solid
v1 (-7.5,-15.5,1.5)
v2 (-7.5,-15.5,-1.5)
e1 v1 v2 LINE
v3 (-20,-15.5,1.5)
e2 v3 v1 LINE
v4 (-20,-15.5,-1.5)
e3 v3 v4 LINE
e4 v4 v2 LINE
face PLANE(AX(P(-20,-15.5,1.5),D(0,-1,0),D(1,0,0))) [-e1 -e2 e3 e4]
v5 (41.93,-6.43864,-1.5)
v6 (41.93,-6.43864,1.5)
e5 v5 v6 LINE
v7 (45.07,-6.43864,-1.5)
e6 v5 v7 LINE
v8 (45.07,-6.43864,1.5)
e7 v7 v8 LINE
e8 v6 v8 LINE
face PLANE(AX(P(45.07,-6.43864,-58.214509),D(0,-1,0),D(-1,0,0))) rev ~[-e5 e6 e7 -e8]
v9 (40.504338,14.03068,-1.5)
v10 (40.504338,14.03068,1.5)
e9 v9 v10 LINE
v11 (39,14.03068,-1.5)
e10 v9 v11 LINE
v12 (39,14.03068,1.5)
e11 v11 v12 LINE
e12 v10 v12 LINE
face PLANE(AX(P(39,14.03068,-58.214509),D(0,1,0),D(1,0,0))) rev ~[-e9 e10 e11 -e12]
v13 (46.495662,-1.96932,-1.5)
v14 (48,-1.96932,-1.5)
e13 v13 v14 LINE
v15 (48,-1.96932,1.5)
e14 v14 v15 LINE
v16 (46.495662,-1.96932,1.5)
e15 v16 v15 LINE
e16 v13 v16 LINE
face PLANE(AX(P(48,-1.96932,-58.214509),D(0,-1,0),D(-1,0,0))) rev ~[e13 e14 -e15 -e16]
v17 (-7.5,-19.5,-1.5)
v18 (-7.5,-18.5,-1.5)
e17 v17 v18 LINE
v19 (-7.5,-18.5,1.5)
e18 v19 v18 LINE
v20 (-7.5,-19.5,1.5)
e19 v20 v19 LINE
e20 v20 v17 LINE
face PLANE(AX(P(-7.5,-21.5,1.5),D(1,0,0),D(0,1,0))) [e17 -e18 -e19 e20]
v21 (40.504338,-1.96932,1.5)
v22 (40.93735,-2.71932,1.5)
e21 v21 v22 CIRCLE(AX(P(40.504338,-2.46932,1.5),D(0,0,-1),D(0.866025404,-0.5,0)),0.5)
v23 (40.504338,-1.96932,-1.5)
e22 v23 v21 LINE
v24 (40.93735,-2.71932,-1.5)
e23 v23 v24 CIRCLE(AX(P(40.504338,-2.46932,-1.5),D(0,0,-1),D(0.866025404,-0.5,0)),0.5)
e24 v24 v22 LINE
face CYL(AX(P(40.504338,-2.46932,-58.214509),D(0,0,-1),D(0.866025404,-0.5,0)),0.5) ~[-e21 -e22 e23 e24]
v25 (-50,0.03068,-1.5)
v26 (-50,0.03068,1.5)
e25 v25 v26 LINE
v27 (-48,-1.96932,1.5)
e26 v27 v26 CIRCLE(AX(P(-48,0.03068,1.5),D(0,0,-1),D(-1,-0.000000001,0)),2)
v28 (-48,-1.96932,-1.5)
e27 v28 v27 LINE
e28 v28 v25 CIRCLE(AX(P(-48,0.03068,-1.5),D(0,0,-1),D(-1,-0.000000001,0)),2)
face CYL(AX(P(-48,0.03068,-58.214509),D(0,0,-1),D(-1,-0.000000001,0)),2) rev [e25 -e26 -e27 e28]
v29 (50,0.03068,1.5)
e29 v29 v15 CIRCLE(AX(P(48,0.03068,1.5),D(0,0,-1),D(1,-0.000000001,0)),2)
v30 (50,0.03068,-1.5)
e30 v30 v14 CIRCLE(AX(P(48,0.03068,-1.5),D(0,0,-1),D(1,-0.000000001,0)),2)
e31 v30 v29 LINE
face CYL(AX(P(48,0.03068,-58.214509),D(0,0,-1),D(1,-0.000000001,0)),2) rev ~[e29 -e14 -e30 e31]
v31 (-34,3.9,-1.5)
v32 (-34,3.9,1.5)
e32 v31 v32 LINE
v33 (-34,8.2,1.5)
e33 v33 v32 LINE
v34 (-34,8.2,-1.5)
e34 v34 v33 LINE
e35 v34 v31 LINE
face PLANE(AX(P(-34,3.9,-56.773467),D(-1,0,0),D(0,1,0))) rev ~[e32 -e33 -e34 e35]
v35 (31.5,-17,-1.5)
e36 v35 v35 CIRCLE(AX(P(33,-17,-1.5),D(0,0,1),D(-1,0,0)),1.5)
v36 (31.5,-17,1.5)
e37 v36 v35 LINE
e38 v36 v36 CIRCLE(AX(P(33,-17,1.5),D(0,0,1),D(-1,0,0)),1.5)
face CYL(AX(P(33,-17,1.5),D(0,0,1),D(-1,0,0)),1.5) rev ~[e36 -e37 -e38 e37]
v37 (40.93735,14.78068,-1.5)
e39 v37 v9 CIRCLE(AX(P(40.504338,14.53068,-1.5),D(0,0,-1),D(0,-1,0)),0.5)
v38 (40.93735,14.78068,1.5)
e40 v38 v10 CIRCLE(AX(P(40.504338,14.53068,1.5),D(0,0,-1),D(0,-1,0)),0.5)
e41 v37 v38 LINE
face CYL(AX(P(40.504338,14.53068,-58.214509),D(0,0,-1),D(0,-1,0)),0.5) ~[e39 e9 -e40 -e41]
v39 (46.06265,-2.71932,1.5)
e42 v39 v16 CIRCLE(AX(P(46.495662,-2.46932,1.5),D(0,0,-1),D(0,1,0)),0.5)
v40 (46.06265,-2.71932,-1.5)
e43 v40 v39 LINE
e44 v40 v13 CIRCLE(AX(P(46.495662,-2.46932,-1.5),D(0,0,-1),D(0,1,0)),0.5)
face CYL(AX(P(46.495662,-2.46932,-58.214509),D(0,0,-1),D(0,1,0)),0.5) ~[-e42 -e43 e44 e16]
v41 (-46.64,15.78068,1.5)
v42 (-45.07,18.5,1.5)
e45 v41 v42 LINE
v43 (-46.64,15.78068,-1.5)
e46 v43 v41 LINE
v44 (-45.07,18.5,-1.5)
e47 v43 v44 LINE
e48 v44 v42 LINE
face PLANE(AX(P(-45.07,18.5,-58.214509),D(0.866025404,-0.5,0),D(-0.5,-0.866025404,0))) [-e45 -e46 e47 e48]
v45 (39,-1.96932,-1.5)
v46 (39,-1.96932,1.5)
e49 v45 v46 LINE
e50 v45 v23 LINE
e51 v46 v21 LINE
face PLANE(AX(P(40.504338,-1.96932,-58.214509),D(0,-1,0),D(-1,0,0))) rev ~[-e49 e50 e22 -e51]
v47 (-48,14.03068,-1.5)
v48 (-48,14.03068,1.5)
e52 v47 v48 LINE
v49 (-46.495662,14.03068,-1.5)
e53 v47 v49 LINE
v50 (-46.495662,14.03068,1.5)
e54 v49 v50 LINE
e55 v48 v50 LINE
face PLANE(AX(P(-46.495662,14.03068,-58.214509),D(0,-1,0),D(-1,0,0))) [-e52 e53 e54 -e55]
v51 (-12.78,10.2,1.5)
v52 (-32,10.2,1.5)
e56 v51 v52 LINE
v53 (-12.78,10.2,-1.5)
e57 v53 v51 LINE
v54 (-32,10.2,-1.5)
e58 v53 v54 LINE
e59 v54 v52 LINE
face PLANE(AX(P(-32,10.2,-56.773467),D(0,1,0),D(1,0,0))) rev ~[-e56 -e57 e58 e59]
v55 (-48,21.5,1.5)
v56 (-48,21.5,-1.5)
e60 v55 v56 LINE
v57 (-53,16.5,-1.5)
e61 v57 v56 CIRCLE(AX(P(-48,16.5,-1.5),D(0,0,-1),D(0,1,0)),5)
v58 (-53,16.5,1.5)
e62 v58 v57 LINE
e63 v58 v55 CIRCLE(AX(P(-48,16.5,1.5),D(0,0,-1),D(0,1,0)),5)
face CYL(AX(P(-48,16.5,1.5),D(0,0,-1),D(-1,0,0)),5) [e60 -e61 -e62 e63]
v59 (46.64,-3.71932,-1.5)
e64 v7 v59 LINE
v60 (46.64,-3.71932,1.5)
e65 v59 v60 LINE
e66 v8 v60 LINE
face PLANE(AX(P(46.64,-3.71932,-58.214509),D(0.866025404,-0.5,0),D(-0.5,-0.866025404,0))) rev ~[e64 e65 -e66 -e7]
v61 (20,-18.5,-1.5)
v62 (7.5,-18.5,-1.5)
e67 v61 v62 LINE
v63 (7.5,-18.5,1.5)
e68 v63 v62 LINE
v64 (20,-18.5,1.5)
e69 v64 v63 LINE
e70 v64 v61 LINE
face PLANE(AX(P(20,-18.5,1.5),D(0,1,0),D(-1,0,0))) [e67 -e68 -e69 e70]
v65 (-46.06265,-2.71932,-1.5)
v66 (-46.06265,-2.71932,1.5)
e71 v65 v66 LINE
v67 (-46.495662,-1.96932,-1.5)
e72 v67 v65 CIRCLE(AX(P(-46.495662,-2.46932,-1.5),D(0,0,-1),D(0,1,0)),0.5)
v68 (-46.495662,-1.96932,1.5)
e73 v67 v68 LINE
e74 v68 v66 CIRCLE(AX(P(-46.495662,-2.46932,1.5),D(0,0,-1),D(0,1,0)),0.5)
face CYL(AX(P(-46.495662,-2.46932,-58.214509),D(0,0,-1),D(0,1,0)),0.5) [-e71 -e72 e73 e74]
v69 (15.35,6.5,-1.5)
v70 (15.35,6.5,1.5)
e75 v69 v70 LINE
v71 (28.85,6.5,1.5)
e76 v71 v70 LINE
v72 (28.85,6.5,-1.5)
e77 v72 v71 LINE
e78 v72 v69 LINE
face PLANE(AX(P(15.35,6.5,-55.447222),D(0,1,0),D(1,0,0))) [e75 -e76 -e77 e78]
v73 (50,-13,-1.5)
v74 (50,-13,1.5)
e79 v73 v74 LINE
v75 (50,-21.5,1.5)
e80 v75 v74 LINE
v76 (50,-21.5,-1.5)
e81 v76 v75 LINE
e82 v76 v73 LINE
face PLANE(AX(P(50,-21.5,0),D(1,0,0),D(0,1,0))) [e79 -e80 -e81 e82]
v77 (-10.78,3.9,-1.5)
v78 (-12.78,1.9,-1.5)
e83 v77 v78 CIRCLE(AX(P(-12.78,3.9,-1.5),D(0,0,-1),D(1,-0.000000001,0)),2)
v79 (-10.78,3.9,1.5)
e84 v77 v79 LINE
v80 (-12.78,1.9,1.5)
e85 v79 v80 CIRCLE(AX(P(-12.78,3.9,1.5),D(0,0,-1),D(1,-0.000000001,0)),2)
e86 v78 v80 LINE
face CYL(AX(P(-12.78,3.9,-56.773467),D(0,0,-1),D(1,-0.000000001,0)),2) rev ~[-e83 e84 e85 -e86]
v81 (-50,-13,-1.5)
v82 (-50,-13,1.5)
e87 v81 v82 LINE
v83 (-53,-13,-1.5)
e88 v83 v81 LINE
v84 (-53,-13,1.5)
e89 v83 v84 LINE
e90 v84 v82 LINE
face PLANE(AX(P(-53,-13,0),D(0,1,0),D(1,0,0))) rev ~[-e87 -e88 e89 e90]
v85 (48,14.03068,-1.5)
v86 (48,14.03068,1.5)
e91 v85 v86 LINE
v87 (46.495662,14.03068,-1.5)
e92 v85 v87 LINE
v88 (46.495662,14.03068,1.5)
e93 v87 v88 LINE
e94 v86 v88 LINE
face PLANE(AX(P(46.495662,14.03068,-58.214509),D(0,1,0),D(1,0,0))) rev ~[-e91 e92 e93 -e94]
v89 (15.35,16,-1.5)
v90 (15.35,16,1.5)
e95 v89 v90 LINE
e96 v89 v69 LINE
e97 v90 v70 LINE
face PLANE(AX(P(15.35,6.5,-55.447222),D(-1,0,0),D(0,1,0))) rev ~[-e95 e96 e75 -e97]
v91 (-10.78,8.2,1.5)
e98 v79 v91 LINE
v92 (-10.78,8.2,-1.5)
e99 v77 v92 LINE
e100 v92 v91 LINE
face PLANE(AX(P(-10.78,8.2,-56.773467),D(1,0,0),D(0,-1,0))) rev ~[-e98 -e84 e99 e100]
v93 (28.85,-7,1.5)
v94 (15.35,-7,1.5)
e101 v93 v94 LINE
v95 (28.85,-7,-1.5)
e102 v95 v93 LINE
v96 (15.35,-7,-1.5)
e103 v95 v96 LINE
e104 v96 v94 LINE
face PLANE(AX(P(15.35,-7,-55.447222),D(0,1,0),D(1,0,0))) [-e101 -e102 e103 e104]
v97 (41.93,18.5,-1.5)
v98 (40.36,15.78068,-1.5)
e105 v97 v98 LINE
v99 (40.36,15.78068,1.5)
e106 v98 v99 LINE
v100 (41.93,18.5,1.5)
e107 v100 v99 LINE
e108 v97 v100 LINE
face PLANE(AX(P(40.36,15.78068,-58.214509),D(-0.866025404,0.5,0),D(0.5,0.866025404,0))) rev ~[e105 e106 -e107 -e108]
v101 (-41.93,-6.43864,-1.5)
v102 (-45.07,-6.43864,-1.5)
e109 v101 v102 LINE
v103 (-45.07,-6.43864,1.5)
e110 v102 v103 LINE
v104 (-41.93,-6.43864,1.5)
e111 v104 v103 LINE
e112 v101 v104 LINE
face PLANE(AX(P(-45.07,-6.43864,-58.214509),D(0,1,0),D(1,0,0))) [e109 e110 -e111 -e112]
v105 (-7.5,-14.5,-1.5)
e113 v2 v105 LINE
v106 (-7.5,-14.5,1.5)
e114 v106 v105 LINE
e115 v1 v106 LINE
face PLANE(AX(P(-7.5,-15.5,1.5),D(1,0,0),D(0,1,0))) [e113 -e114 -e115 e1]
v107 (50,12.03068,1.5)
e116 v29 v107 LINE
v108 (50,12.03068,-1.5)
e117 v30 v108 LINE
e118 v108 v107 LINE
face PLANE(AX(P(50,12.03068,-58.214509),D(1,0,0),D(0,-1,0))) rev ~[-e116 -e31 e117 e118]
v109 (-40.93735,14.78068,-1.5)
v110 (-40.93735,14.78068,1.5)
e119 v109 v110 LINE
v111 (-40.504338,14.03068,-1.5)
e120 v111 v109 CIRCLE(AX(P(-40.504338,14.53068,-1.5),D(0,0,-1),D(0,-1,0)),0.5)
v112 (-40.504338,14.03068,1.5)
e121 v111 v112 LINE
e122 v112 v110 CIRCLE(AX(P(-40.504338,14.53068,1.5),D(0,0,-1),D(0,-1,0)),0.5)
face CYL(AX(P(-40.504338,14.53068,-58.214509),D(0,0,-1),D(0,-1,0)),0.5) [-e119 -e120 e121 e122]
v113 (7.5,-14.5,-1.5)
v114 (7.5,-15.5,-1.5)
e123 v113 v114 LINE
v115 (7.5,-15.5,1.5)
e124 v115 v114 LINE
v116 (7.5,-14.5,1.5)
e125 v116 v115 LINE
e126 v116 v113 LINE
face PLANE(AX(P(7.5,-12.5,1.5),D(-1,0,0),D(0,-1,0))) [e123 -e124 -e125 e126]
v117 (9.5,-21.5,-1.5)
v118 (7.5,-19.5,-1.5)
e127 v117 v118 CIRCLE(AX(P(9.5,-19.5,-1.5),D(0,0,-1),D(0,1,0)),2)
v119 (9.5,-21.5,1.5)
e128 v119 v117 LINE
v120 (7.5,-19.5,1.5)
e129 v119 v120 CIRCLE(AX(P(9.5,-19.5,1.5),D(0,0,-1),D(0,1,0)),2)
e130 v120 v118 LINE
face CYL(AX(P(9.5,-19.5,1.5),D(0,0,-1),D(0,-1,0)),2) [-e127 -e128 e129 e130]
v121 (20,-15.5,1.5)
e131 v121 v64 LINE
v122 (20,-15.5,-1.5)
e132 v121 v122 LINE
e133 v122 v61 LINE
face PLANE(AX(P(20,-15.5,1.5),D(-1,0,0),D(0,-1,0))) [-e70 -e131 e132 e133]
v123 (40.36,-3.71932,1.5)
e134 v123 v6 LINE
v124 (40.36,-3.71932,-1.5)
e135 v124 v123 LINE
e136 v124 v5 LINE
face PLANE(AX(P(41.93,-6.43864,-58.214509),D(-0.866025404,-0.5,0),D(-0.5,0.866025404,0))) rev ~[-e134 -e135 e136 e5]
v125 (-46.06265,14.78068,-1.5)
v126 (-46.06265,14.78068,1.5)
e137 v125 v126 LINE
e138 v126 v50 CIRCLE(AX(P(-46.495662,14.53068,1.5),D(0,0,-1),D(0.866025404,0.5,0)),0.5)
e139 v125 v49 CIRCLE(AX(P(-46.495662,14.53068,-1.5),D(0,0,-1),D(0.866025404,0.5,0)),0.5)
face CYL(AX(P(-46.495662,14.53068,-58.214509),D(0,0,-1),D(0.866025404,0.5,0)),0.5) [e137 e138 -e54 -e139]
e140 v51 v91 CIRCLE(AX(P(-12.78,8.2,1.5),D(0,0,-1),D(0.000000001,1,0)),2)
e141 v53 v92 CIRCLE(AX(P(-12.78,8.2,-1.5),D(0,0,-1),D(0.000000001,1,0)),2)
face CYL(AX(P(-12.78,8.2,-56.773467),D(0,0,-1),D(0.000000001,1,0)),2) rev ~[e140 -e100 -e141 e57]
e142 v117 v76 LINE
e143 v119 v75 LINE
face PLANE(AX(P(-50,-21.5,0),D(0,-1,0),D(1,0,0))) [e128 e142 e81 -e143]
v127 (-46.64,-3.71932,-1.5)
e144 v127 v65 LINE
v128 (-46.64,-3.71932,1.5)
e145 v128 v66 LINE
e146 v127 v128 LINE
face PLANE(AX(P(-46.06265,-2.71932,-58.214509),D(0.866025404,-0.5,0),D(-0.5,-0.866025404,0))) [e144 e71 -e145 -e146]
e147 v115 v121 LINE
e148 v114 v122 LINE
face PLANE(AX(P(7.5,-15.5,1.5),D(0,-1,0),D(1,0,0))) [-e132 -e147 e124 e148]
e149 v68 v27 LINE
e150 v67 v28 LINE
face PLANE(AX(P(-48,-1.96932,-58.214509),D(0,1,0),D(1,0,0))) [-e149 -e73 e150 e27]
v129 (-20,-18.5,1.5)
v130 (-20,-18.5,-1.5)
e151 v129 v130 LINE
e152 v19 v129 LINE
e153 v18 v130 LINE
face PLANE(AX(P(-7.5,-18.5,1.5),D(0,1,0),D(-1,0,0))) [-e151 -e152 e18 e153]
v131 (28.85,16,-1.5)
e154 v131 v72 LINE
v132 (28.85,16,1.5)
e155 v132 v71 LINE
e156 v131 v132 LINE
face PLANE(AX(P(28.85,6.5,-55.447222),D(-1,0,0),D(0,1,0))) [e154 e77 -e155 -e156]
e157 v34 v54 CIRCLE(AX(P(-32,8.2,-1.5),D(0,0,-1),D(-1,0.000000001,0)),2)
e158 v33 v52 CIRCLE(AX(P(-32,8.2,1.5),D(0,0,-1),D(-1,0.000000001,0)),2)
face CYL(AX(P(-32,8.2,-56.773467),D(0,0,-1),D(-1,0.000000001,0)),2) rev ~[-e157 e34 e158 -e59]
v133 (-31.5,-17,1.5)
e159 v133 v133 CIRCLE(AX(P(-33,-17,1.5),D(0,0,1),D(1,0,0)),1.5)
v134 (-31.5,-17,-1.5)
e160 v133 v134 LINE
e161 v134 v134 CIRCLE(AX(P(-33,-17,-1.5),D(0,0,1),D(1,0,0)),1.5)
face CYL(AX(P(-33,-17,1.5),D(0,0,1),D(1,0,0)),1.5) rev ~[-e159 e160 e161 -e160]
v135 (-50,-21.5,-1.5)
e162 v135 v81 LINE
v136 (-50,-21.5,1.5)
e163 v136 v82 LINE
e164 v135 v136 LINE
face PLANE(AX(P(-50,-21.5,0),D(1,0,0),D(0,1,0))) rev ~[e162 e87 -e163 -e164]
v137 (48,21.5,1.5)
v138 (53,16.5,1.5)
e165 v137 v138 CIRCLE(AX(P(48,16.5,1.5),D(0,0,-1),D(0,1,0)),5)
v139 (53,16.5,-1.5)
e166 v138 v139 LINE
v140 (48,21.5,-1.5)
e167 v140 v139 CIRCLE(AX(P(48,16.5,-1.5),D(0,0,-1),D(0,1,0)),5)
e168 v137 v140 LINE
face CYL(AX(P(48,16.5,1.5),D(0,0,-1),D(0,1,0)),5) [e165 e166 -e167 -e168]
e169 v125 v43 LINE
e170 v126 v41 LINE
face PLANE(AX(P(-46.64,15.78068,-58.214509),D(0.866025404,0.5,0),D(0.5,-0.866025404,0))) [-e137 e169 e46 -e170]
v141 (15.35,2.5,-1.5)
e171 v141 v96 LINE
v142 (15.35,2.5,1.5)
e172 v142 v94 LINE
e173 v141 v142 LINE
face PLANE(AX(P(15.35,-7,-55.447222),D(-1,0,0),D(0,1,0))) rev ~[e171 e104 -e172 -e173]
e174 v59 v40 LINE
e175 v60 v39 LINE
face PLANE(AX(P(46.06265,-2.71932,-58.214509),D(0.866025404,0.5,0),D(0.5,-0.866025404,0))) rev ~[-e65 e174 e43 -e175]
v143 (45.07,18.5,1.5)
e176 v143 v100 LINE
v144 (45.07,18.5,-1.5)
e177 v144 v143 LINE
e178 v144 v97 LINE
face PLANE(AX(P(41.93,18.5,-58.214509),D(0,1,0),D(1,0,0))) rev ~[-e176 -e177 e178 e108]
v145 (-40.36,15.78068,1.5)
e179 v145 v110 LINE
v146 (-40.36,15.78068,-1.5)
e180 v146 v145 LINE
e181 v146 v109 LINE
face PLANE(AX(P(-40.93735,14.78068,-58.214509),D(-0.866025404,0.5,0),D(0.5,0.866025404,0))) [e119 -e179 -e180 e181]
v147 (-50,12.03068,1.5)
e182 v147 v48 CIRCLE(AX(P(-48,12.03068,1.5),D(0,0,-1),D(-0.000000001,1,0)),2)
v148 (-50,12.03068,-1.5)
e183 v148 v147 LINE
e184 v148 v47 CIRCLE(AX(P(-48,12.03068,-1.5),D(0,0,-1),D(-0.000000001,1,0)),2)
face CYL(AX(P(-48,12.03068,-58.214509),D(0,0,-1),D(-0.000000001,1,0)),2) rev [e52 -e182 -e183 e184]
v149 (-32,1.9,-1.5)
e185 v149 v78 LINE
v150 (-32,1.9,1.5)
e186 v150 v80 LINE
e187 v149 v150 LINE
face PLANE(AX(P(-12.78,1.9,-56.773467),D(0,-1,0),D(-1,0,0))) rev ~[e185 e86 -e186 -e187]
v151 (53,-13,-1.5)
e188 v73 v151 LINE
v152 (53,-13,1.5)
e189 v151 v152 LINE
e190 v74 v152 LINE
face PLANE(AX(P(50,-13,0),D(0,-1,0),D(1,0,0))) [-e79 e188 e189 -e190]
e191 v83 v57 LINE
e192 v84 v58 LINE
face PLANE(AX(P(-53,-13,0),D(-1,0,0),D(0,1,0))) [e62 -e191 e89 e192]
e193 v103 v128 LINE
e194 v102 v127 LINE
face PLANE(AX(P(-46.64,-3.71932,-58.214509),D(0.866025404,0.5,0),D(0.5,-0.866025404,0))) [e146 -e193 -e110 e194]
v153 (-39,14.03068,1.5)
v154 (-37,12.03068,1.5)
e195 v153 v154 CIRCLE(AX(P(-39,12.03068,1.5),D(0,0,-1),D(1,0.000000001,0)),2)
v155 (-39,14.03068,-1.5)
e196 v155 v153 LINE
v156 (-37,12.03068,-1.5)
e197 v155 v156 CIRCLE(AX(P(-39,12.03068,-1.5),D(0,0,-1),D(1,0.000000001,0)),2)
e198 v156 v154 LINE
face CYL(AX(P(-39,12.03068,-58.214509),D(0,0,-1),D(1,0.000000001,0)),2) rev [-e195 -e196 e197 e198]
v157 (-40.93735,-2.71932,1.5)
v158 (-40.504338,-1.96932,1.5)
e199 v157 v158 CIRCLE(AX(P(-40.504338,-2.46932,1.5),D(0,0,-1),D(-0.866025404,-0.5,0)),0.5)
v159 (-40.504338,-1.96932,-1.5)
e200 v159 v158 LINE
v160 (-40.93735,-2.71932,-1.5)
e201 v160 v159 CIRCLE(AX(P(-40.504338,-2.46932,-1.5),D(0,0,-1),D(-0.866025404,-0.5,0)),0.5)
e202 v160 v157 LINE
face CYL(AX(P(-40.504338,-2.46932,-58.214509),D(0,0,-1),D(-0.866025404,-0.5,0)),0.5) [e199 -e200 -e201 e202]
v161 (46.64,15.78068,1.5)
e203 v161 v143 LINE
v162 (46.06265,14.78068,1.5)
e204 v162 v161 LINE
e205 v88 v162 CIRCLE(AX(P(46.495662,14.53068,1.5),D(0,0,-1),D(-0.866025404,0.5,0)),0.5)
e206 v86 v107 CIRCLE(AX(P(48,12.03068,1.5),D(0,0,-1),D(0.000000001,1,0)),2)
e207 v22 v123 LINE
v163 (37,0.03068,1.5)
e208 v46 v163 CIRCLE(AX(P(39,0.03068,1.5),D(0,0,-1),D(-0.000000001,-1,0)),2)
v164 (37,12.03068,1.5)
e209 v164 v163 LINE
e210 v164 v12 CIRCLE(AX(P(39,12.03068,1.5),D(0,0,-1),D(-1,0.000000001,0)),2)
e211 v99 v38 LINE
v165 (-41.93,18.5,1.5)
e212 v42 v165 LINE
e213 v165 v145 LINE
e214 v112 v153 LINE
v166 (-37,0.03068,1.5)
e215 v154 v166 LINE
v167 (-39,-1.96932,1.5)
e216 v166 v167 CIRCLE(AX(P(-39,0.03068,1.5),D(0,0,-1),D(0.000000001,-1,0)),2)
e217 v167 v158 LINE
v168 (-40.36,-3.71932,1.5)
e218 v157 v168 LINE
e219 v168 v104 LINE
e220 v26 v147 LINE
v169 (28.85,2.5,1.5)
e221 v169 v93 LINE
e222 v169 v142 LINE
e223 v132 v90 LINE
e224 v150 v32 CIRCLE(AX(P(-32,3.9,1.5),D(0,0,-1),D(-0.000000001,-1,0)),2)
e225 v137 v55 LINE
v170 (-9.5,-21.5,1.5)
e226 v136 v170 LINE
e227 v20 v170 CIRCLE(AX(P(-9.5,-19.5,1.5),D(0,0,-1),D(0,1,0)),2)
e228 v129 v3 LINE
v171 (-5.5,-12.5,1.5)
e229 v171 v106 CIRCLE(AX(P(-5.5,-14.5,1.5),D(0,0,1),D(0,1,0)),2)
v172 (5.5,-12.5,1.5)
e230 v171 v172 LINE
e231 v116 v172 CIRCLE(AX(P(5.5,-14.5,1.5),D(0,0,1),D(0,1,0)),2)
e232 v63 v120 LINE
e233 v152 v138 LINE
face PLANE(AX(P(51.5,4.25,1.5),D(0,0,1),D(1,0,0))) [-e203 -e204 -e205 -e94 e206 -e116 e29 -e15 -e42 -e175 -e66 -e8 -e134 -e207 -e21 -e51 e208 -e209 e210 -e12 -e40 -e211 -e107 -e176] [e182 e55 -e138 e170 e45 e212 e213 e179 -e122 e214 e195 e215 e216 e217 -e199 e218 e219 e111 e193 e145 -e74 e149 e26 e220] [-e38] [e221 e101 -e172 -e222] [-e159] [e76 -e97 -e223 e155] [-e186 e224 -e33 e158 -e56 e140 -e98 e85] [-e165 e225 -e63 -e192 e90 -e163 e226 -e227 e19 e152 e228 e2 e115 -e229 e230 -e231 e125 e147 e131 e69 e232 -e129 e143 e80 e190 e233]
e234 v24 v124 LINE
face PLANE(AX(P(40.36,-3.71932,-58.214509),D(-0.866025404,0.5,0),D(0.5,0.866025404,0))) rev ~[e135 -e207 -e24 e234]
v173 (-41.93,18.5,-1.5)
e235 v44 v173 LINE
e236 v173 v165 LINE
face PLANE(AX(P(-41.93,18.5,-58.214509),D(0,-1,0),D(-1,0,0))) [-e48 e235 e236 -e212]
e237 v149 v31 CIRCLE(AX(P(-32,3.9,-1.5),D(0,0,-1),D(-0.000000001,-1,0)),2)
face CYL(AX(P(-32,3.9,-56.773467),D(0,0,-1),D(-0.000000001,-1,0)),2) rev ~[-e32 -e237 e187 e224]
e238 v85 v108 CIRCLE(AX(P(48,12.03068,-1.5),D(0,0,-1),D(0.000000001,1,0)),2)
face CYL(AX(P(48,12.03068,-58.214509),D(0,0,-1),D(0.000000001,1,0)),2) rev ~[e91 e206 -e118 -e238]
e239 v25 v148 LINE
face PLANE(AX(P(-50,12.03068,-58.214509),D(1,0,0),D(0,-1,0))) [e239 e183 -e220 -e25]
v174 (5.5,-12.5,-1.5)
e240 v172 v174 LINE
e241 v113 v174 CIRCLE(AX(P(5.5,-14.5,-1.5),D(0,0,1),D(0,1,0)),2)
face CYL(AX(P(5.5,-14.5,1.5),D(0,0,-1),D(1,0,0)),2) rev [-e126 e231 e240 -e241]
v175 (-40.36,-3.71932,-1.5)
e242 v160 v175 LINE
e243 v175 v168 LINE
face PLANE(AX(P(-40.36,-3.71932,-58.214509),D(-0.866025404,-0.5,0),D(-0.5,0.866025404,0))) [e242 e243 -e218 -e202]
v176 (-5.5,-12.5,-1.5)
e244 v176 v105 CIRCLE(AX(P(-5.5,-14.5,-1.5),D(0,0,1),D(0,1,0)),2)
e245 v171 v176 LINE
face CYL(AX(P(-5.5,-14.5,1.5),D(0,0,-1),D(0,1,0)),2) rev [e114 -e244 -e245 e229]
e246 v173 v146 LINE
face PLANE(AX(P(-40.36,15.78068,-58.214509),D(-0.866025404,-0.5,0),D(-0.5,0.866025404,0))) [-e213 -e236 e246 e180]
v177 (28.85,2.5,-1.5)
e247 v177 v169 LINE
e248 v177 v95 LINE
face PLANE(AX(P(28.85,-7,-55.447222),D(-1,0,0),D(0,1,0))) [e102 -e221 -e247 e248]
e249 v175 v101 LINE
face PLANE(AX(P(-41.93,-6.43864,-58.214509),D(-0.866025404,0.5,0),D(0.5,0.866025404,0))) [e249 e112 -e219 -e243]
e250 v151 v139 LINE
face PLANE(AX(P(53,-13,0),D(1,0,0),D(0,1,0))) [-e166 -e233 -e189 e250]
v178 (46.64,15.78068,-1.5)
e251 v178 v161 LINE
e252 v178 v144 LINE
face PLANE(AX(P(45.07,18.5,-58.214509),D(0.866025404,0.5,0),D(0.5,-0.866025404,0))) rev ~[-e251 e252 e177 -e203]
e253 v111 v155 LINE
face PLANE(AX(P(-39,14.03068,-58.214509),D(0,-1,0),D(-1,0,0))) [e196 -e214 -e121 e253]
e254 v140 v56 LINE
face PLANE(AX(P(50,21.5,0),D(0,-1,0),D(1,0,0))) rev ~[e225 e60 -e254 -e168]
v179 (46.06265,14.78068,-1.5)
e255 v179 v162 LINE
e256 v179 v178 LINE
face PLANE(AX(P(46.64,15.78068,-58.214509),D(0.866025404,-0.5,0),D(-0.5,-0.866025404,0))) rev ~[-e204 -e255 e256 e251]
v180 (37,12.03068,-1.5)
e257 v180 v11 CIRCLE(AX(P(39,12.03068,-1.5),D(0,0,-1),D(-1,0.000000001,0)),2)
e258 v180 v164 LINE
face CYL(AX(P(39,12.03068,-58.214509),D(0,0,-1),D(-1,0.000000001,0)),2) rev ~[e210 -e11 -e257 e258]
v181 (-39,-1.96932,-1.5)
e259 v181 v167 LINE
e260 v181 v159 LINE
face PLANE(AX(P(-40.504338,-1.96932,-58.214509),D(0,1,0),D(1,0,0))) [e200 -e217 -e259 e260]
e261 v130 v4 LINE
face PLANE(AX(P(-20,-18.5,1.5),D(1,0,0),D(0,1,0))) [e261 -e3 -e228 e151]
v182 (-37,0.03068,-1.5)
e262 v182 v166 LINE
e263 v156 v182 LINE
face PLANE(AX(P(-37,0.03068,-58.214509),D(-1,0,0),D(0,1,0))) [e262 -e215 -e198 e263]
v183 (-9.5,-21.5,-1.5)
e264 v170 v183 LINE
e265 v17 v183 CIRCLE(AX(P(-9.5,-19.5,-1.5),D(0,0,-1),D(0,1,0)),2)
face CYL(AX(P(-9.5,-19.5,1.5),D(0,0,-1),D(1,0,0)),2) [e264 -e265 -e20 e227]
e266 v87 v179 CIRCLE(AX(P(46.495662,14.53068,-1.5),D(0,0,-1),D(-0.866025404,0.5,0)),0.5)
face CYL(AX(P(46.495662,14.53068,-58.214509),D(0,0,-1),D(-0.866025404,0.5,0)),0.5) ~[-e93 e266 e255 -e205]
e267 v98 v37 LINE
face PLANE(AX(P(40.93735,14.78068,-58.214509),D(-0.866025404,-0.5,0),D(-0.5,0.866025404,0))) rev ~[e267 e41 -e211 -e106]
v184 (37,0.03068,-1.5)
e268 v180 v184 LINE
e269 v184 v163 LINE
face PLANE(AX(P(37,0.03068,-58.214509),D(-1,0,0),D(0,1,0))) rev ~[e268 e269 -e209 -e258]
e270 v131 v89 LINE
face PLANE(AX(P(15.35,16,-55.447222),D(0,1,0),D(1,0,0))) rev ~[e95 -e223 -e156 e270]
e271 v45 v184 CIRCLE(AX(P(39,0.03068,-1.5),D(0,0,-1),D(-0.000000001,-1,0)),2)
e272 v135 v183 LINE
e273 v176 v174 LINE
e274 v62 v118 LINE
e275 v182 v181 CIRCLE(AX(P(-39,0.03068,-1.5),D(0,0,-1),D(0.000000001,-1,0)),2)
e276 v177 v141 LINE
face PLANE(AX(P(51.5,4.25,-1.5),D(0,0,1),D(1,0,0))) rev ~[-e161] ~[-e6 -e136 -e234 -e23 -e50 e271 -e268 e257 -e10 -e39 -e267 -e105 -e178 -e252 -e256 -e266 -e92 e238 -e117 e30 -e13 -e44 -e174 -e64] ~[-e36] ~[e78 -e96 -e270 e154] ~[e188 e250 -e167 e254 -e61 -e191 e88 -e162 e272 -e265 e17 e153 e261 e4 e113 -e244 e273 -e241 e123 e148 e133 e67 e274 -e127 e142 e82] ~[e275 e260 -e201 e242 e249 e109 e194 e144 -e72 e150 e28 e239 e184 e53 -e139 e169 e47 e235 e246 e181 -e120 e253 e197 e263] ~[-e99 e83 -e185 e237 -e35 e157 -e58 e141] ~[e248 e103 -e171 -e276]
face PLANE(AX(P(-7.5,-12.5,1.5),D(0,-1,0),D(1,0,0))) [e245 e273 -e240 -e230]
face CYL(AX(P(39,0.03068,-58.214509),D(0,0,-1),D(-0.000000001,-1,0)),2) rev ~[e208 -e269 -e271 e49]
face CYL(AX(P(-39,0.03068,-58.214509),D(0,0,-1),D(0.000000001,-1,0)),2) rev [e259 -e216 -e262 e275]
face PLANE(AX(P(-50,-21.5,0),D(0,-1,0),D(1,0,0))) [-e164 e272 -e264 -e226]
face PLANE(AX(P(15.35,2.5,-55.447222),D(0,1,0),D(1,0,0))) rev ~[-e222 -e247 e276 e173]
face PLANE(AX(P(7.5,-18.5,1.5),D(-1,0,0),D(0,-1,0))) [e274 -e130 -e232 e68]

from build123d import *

# Parameters (mm, degrees)
ESBO_O1_W                  = 100
ESBO_O1_H                  = 43
RESSALTO_EXTRUS_O1_DEPTH   = 1.5
ESBO_O2_R                  = 1.5
CORTE_EXTRUS_O1_DEPTH      = 55.50917354
CUT_EXTRUDE6_DEPTH         = 55.447222151
CUT_EXTRUDE6_DEPTH_BACK    = 55.447222151
SKETCH7_W                  = 13.5
SKETCH7_H                  = 9.5
SKETCH8_W                  = 3
SKETCH8_H                  = 34.5
BOSS_EXTRUDE1_DEPTH        = 1.5
FILLET3_R                  = 2
FILLET4_R                  = 5
CORTE_GY_VL53L0_DEPTH      = 58.214508649
CORTE_GY_VL53L0_DEPTH_BACK = 58.214508649
CUT_EXTRUDE7_DEPTH         = 58.273466806
CUT_EXTRUDE7_DEPTH_BACK    = 58.273466806


with BuildPart() as part:
    # Esboço1 → Ressalto-extrusão1 (new, symmetric)
    with BuildSketch(Plane.XY):
        Rectangle(ESBO_O1_W, ESBO_O1_H)
    extrude(amount=RESSALTO_EXTRUS_O1_DEPTH, both=True)

    # Esboço2 → Corte-extrusão1 (cut, through all)
    with BuildSketch(Plane.XY.offset(1.5)):
        with Locations((-33, -17)):
            Circle(ESBO_O2_R)
        with Locations(Location((33, -17, 0), (0, 0, 180))):
            Circle(ESBO_O2_R)
        Polygon((-20, -15.5), (-7.5, -15.5), (-7.5, -12.5), (7.5, -12.5), (7.5, -15.5), (20, -15.5), (20, -18.5), (7.5, -18.5), (7.5, -21.5), (-7.5, -21.5), (-7.5, -18.5), (-20, -18.5), align=None)
    extrude(amount=-CORTE_EXTRUS_O1_DEPTH, mode=Mode.SUBTRACT)

    # Sketch7 → Cut-Extrude6 (cut, two sides: drawn at the far end of the back side and taken through both)
    with BuildSketch(Plane.XY.offset(-CUT_EXTRUDE6_DEPTH_BACK)):
        with Locations((22.1, -2.25)):
            Rectangle(SKETCH7_W, SKETCH7_H)
        with Locations((22.1, 11.25)):
            Rectangle(SKETCH7_W, SKETCH7_H)
    extrude(amount=CUT_EXTRUDE6_DEPTH + CUT_EXTRUDE6_DEPTH_BACK, mode=Mode.SUBTRACT)

    # Sketch8 → Boss-Extrude1 (add, symmetric)
    with BuildSketch(Plane.XY):
        with Locations((-51.5, 4.25)):
            Rectangle(SKETCH8_W, SKETCH8_H)
        with Locations((51.5, 4.25)):
            Rectangle(SKETCH8_W, SKETCH8_H)
    extrude(amount=BOSS_EXTRUDE1_DEPTH, both=True)

    # Fillet3
    fillet3_edges = [part.edges().sort_by_distance(p)[0] for p in [
        (-7.5, -21.5, 0),
        (-7.5, -12.5, 0),
        (7.5, -12.5, 0),
        (7.5, -21.5, 0),
    ]]
    fillet(fillet3_edges, radius=FILLET3_R)

    # Fillet4
    fillet4_edges = [part.edges().sort_by_distance(p)[0] for p in [
        (53, 21.5, 0),
        (-53, 21.5, 0),
    ]]
    fillet(fillet4_edges, radius=FILLET4_R)

    # Sketch6 → Corte Gy-VL53L0 (cut, two sides: drawn at the far end of the back side and taken through both)
    with BuildSketch(Plane.XY.offset(-CORTE_GY_VL53L0_DEPTH_BACK)):
        with BuildLine():
            Line((-40.5, 14.030680232), (-40.504337567, 14.030680232))
            ThreePointArc((-40.504337567, 14.030680232), (-40.937350269, 14.280680232), (-40.937350269, 14.780680232))
            Line((-40.937350269, 14.780680232), (-40.36, 15.780680232))
            Line((-40.36, 15.780680232), (-41.93, 18.5))
            Line((-41.93, 18.5), (-45.07, 18.5))
            Line((-45.07, 18.5), (-46.64, 15.780680232))
            Line((-46.64, 15.780680232), (-46.062649731, 14.780680232))
            ThreePointArc((-46.062649731, 14.780680232), (-46.062649731, 14.280680232), (-46.495662433, 14.030680232))
            Line((-46.495662433, 14.030680232), (-48, 14.030680232))
            ThreePointArc((-48, 14.030680232), (-49.414213562, 13.444893794), (-50, 12.030680232))
            Line((-50, 12.030680232), (-50, 0.030680232))
            ThreePointArc((-50, 0.030680232), (-49.414213562, -1.38353333), (-48, -1.969319768))
            Line((-48, -1.969319768), (-46.495662433, -1.969319768))
            ThreePointArc((-46.495662433, -1.969319768), (-46.062649731, -2.219319768), (-46.062649731, -2.719319768))
            Line((-46.062649731, -2.719319768), (-46.64, -3.719319768))
            Line((-46.64, -3.719319768), (-45.07, -6.438639536))
            Line((-45.07, -6.438639536), (-41.93, -6.438639536))
            Line((-41.93, -6.438639536), (-40.36, -3.719319768))
            Line((-40.36, -3.719319768), (-40.937350269, -2.719319768))
            ThreePointArc((-40.937350269, -2.719319768), (-40.937350269, -2.219319768), (-40.504337567, -1.969319768))
            Line((-40.504337567, -1.969319768), (-39, -1.969319768))
            ThreePointArc((-39, -1.969319768), (-37.585786438, -1.38353333), (-37, 0.030680232))
            Line((-37, 0.030680232), (-37, 6.030680232))
            Line((-37, 6.030680232), (-37, 12.030680232))
            ThreePointArc((-37, 12.030680232), (-37.585786438, 13.444893794), (-39, 14.030680232))
            Line((-39, 14.030680232), (-40.5, 14.030680232))
        make_face()
        with BuildLine():
            Line((40.5, 14.030680232), (40.504337567, 14.030680232))
            ThreePointArc((40.504337567, 14.030680232), (40.937350269, 14.280680232), (40.937350269, 14.780680232))
            Line((40.937350269, 14.780680232), (40.36, 15.780680232))
            Line((40.36, 15.780680232), (41.93, 18.5))
            Line((41.93, 18.5), (45.07, 18.5))
            Line((45.07, 18.5), (46.64, 15.780680232))
            Line((46.64, 15.780680232), (46.062649731, 14.780680232))
            ThreePointArc((46.062649731, 14.780680232), (46.062649731, 14.280680232), (46.495662433, 14.030680232))
            Line((46.495662433, 14.030680232), (48, 14.030680232))
            ThreePointArc((48, 14.030680232), (49.414213562, 13.444893794), (50, 12.030680232))
            Line((50, 12.030680232), (50, 0.030680232))
            ThreePointArc((50, 0.030680232), (49.414213562, -1.38353333), (48, -1.969319768))
            Line((48, -1.969319768), (46.495662433, -1.969319768))
            ThreePointArc((46.495662433, -1.969319768), (46.062649731, -2.219319768), (46.062649731, -2.719319768))
            Line((46.062649731, -2.719319768), (46.64, -3.719319768))
            Line((46.64, -3.719319768), (45.07, -6.438639536))
            Line((45.07, -6.438639536), (41.93, -6.438639536))
            Line((41.93, -6.438639536), (40.36, -3.719319768))
            Line((40.36, -3.719319768), (40.937350269, -2.719319768))
            ThreePointArc((40.937350269, -2.719319768), (40.937350269, -2.219319768), (40.504337567, -1.969319768))
            Line((40.504337567, -1.969319768), (39, -1.969319768))
            ThreePointArc((39, -1.969319768), (37.585786438, -1.38353333), (37, 0.030680232))
            Line((37, 0.030680232), (37, 6.030680232))
            Line((37, 6.030680232), (37, 12.030680232))
            ThreePointArc((37, 12.030680232), (37.585786438, 13.444893794), (39, 14.030680232))
            Line((39, 14.030680232), (40.5, 14.030680232))
        make_face()
    extrude(amount=CORTE_GY_VL53L0_DEPTH + CORTE_GY_VL53L0_DEPTH_BACK, mode=Mode.SUBTRACT)

    # Sketch11 → Cut-Extrude7 (cut, two sides: drawn at the far end of the back side and taken through both)
    with BuildSketch(Plane.XY.offset(1.5).offset(-CUT_EXTRUDE7_DEPTH_BACK)):
        with BuildLine():
            Line((-32, 10.2), (-12.78, 10.2))
            ThreePointArc((-12.78, 10.2), (-11.365786438, 9.614213562), (-10.78, 8.2))
            Line((-10.78, 8.2), (-10.78, 3.9))
            ThreePointArc((-10.78, 3.9), (-11.365786438, 2.485786438), (-12.78, 1.9))
            Line((-12.78, 1.9), (-32, 1.9))
            ThreePointArc((-32, 1.9), (-33.414213562, 2.485786438), (-34, 3.9))
            Line((-34, 3.9), (-34, 8.2))
            ThreePointArc((-34, 8.2), (-33.414213562, 9.614213562), (-32, 10.2))
        make_face()
    extrude(amount=CUT_EXTRUDE7_DEPTH + CUT_EXTRUDE7_DEPTH_BACK, mode=Mode.SUBTRACT)


solid = part.part
